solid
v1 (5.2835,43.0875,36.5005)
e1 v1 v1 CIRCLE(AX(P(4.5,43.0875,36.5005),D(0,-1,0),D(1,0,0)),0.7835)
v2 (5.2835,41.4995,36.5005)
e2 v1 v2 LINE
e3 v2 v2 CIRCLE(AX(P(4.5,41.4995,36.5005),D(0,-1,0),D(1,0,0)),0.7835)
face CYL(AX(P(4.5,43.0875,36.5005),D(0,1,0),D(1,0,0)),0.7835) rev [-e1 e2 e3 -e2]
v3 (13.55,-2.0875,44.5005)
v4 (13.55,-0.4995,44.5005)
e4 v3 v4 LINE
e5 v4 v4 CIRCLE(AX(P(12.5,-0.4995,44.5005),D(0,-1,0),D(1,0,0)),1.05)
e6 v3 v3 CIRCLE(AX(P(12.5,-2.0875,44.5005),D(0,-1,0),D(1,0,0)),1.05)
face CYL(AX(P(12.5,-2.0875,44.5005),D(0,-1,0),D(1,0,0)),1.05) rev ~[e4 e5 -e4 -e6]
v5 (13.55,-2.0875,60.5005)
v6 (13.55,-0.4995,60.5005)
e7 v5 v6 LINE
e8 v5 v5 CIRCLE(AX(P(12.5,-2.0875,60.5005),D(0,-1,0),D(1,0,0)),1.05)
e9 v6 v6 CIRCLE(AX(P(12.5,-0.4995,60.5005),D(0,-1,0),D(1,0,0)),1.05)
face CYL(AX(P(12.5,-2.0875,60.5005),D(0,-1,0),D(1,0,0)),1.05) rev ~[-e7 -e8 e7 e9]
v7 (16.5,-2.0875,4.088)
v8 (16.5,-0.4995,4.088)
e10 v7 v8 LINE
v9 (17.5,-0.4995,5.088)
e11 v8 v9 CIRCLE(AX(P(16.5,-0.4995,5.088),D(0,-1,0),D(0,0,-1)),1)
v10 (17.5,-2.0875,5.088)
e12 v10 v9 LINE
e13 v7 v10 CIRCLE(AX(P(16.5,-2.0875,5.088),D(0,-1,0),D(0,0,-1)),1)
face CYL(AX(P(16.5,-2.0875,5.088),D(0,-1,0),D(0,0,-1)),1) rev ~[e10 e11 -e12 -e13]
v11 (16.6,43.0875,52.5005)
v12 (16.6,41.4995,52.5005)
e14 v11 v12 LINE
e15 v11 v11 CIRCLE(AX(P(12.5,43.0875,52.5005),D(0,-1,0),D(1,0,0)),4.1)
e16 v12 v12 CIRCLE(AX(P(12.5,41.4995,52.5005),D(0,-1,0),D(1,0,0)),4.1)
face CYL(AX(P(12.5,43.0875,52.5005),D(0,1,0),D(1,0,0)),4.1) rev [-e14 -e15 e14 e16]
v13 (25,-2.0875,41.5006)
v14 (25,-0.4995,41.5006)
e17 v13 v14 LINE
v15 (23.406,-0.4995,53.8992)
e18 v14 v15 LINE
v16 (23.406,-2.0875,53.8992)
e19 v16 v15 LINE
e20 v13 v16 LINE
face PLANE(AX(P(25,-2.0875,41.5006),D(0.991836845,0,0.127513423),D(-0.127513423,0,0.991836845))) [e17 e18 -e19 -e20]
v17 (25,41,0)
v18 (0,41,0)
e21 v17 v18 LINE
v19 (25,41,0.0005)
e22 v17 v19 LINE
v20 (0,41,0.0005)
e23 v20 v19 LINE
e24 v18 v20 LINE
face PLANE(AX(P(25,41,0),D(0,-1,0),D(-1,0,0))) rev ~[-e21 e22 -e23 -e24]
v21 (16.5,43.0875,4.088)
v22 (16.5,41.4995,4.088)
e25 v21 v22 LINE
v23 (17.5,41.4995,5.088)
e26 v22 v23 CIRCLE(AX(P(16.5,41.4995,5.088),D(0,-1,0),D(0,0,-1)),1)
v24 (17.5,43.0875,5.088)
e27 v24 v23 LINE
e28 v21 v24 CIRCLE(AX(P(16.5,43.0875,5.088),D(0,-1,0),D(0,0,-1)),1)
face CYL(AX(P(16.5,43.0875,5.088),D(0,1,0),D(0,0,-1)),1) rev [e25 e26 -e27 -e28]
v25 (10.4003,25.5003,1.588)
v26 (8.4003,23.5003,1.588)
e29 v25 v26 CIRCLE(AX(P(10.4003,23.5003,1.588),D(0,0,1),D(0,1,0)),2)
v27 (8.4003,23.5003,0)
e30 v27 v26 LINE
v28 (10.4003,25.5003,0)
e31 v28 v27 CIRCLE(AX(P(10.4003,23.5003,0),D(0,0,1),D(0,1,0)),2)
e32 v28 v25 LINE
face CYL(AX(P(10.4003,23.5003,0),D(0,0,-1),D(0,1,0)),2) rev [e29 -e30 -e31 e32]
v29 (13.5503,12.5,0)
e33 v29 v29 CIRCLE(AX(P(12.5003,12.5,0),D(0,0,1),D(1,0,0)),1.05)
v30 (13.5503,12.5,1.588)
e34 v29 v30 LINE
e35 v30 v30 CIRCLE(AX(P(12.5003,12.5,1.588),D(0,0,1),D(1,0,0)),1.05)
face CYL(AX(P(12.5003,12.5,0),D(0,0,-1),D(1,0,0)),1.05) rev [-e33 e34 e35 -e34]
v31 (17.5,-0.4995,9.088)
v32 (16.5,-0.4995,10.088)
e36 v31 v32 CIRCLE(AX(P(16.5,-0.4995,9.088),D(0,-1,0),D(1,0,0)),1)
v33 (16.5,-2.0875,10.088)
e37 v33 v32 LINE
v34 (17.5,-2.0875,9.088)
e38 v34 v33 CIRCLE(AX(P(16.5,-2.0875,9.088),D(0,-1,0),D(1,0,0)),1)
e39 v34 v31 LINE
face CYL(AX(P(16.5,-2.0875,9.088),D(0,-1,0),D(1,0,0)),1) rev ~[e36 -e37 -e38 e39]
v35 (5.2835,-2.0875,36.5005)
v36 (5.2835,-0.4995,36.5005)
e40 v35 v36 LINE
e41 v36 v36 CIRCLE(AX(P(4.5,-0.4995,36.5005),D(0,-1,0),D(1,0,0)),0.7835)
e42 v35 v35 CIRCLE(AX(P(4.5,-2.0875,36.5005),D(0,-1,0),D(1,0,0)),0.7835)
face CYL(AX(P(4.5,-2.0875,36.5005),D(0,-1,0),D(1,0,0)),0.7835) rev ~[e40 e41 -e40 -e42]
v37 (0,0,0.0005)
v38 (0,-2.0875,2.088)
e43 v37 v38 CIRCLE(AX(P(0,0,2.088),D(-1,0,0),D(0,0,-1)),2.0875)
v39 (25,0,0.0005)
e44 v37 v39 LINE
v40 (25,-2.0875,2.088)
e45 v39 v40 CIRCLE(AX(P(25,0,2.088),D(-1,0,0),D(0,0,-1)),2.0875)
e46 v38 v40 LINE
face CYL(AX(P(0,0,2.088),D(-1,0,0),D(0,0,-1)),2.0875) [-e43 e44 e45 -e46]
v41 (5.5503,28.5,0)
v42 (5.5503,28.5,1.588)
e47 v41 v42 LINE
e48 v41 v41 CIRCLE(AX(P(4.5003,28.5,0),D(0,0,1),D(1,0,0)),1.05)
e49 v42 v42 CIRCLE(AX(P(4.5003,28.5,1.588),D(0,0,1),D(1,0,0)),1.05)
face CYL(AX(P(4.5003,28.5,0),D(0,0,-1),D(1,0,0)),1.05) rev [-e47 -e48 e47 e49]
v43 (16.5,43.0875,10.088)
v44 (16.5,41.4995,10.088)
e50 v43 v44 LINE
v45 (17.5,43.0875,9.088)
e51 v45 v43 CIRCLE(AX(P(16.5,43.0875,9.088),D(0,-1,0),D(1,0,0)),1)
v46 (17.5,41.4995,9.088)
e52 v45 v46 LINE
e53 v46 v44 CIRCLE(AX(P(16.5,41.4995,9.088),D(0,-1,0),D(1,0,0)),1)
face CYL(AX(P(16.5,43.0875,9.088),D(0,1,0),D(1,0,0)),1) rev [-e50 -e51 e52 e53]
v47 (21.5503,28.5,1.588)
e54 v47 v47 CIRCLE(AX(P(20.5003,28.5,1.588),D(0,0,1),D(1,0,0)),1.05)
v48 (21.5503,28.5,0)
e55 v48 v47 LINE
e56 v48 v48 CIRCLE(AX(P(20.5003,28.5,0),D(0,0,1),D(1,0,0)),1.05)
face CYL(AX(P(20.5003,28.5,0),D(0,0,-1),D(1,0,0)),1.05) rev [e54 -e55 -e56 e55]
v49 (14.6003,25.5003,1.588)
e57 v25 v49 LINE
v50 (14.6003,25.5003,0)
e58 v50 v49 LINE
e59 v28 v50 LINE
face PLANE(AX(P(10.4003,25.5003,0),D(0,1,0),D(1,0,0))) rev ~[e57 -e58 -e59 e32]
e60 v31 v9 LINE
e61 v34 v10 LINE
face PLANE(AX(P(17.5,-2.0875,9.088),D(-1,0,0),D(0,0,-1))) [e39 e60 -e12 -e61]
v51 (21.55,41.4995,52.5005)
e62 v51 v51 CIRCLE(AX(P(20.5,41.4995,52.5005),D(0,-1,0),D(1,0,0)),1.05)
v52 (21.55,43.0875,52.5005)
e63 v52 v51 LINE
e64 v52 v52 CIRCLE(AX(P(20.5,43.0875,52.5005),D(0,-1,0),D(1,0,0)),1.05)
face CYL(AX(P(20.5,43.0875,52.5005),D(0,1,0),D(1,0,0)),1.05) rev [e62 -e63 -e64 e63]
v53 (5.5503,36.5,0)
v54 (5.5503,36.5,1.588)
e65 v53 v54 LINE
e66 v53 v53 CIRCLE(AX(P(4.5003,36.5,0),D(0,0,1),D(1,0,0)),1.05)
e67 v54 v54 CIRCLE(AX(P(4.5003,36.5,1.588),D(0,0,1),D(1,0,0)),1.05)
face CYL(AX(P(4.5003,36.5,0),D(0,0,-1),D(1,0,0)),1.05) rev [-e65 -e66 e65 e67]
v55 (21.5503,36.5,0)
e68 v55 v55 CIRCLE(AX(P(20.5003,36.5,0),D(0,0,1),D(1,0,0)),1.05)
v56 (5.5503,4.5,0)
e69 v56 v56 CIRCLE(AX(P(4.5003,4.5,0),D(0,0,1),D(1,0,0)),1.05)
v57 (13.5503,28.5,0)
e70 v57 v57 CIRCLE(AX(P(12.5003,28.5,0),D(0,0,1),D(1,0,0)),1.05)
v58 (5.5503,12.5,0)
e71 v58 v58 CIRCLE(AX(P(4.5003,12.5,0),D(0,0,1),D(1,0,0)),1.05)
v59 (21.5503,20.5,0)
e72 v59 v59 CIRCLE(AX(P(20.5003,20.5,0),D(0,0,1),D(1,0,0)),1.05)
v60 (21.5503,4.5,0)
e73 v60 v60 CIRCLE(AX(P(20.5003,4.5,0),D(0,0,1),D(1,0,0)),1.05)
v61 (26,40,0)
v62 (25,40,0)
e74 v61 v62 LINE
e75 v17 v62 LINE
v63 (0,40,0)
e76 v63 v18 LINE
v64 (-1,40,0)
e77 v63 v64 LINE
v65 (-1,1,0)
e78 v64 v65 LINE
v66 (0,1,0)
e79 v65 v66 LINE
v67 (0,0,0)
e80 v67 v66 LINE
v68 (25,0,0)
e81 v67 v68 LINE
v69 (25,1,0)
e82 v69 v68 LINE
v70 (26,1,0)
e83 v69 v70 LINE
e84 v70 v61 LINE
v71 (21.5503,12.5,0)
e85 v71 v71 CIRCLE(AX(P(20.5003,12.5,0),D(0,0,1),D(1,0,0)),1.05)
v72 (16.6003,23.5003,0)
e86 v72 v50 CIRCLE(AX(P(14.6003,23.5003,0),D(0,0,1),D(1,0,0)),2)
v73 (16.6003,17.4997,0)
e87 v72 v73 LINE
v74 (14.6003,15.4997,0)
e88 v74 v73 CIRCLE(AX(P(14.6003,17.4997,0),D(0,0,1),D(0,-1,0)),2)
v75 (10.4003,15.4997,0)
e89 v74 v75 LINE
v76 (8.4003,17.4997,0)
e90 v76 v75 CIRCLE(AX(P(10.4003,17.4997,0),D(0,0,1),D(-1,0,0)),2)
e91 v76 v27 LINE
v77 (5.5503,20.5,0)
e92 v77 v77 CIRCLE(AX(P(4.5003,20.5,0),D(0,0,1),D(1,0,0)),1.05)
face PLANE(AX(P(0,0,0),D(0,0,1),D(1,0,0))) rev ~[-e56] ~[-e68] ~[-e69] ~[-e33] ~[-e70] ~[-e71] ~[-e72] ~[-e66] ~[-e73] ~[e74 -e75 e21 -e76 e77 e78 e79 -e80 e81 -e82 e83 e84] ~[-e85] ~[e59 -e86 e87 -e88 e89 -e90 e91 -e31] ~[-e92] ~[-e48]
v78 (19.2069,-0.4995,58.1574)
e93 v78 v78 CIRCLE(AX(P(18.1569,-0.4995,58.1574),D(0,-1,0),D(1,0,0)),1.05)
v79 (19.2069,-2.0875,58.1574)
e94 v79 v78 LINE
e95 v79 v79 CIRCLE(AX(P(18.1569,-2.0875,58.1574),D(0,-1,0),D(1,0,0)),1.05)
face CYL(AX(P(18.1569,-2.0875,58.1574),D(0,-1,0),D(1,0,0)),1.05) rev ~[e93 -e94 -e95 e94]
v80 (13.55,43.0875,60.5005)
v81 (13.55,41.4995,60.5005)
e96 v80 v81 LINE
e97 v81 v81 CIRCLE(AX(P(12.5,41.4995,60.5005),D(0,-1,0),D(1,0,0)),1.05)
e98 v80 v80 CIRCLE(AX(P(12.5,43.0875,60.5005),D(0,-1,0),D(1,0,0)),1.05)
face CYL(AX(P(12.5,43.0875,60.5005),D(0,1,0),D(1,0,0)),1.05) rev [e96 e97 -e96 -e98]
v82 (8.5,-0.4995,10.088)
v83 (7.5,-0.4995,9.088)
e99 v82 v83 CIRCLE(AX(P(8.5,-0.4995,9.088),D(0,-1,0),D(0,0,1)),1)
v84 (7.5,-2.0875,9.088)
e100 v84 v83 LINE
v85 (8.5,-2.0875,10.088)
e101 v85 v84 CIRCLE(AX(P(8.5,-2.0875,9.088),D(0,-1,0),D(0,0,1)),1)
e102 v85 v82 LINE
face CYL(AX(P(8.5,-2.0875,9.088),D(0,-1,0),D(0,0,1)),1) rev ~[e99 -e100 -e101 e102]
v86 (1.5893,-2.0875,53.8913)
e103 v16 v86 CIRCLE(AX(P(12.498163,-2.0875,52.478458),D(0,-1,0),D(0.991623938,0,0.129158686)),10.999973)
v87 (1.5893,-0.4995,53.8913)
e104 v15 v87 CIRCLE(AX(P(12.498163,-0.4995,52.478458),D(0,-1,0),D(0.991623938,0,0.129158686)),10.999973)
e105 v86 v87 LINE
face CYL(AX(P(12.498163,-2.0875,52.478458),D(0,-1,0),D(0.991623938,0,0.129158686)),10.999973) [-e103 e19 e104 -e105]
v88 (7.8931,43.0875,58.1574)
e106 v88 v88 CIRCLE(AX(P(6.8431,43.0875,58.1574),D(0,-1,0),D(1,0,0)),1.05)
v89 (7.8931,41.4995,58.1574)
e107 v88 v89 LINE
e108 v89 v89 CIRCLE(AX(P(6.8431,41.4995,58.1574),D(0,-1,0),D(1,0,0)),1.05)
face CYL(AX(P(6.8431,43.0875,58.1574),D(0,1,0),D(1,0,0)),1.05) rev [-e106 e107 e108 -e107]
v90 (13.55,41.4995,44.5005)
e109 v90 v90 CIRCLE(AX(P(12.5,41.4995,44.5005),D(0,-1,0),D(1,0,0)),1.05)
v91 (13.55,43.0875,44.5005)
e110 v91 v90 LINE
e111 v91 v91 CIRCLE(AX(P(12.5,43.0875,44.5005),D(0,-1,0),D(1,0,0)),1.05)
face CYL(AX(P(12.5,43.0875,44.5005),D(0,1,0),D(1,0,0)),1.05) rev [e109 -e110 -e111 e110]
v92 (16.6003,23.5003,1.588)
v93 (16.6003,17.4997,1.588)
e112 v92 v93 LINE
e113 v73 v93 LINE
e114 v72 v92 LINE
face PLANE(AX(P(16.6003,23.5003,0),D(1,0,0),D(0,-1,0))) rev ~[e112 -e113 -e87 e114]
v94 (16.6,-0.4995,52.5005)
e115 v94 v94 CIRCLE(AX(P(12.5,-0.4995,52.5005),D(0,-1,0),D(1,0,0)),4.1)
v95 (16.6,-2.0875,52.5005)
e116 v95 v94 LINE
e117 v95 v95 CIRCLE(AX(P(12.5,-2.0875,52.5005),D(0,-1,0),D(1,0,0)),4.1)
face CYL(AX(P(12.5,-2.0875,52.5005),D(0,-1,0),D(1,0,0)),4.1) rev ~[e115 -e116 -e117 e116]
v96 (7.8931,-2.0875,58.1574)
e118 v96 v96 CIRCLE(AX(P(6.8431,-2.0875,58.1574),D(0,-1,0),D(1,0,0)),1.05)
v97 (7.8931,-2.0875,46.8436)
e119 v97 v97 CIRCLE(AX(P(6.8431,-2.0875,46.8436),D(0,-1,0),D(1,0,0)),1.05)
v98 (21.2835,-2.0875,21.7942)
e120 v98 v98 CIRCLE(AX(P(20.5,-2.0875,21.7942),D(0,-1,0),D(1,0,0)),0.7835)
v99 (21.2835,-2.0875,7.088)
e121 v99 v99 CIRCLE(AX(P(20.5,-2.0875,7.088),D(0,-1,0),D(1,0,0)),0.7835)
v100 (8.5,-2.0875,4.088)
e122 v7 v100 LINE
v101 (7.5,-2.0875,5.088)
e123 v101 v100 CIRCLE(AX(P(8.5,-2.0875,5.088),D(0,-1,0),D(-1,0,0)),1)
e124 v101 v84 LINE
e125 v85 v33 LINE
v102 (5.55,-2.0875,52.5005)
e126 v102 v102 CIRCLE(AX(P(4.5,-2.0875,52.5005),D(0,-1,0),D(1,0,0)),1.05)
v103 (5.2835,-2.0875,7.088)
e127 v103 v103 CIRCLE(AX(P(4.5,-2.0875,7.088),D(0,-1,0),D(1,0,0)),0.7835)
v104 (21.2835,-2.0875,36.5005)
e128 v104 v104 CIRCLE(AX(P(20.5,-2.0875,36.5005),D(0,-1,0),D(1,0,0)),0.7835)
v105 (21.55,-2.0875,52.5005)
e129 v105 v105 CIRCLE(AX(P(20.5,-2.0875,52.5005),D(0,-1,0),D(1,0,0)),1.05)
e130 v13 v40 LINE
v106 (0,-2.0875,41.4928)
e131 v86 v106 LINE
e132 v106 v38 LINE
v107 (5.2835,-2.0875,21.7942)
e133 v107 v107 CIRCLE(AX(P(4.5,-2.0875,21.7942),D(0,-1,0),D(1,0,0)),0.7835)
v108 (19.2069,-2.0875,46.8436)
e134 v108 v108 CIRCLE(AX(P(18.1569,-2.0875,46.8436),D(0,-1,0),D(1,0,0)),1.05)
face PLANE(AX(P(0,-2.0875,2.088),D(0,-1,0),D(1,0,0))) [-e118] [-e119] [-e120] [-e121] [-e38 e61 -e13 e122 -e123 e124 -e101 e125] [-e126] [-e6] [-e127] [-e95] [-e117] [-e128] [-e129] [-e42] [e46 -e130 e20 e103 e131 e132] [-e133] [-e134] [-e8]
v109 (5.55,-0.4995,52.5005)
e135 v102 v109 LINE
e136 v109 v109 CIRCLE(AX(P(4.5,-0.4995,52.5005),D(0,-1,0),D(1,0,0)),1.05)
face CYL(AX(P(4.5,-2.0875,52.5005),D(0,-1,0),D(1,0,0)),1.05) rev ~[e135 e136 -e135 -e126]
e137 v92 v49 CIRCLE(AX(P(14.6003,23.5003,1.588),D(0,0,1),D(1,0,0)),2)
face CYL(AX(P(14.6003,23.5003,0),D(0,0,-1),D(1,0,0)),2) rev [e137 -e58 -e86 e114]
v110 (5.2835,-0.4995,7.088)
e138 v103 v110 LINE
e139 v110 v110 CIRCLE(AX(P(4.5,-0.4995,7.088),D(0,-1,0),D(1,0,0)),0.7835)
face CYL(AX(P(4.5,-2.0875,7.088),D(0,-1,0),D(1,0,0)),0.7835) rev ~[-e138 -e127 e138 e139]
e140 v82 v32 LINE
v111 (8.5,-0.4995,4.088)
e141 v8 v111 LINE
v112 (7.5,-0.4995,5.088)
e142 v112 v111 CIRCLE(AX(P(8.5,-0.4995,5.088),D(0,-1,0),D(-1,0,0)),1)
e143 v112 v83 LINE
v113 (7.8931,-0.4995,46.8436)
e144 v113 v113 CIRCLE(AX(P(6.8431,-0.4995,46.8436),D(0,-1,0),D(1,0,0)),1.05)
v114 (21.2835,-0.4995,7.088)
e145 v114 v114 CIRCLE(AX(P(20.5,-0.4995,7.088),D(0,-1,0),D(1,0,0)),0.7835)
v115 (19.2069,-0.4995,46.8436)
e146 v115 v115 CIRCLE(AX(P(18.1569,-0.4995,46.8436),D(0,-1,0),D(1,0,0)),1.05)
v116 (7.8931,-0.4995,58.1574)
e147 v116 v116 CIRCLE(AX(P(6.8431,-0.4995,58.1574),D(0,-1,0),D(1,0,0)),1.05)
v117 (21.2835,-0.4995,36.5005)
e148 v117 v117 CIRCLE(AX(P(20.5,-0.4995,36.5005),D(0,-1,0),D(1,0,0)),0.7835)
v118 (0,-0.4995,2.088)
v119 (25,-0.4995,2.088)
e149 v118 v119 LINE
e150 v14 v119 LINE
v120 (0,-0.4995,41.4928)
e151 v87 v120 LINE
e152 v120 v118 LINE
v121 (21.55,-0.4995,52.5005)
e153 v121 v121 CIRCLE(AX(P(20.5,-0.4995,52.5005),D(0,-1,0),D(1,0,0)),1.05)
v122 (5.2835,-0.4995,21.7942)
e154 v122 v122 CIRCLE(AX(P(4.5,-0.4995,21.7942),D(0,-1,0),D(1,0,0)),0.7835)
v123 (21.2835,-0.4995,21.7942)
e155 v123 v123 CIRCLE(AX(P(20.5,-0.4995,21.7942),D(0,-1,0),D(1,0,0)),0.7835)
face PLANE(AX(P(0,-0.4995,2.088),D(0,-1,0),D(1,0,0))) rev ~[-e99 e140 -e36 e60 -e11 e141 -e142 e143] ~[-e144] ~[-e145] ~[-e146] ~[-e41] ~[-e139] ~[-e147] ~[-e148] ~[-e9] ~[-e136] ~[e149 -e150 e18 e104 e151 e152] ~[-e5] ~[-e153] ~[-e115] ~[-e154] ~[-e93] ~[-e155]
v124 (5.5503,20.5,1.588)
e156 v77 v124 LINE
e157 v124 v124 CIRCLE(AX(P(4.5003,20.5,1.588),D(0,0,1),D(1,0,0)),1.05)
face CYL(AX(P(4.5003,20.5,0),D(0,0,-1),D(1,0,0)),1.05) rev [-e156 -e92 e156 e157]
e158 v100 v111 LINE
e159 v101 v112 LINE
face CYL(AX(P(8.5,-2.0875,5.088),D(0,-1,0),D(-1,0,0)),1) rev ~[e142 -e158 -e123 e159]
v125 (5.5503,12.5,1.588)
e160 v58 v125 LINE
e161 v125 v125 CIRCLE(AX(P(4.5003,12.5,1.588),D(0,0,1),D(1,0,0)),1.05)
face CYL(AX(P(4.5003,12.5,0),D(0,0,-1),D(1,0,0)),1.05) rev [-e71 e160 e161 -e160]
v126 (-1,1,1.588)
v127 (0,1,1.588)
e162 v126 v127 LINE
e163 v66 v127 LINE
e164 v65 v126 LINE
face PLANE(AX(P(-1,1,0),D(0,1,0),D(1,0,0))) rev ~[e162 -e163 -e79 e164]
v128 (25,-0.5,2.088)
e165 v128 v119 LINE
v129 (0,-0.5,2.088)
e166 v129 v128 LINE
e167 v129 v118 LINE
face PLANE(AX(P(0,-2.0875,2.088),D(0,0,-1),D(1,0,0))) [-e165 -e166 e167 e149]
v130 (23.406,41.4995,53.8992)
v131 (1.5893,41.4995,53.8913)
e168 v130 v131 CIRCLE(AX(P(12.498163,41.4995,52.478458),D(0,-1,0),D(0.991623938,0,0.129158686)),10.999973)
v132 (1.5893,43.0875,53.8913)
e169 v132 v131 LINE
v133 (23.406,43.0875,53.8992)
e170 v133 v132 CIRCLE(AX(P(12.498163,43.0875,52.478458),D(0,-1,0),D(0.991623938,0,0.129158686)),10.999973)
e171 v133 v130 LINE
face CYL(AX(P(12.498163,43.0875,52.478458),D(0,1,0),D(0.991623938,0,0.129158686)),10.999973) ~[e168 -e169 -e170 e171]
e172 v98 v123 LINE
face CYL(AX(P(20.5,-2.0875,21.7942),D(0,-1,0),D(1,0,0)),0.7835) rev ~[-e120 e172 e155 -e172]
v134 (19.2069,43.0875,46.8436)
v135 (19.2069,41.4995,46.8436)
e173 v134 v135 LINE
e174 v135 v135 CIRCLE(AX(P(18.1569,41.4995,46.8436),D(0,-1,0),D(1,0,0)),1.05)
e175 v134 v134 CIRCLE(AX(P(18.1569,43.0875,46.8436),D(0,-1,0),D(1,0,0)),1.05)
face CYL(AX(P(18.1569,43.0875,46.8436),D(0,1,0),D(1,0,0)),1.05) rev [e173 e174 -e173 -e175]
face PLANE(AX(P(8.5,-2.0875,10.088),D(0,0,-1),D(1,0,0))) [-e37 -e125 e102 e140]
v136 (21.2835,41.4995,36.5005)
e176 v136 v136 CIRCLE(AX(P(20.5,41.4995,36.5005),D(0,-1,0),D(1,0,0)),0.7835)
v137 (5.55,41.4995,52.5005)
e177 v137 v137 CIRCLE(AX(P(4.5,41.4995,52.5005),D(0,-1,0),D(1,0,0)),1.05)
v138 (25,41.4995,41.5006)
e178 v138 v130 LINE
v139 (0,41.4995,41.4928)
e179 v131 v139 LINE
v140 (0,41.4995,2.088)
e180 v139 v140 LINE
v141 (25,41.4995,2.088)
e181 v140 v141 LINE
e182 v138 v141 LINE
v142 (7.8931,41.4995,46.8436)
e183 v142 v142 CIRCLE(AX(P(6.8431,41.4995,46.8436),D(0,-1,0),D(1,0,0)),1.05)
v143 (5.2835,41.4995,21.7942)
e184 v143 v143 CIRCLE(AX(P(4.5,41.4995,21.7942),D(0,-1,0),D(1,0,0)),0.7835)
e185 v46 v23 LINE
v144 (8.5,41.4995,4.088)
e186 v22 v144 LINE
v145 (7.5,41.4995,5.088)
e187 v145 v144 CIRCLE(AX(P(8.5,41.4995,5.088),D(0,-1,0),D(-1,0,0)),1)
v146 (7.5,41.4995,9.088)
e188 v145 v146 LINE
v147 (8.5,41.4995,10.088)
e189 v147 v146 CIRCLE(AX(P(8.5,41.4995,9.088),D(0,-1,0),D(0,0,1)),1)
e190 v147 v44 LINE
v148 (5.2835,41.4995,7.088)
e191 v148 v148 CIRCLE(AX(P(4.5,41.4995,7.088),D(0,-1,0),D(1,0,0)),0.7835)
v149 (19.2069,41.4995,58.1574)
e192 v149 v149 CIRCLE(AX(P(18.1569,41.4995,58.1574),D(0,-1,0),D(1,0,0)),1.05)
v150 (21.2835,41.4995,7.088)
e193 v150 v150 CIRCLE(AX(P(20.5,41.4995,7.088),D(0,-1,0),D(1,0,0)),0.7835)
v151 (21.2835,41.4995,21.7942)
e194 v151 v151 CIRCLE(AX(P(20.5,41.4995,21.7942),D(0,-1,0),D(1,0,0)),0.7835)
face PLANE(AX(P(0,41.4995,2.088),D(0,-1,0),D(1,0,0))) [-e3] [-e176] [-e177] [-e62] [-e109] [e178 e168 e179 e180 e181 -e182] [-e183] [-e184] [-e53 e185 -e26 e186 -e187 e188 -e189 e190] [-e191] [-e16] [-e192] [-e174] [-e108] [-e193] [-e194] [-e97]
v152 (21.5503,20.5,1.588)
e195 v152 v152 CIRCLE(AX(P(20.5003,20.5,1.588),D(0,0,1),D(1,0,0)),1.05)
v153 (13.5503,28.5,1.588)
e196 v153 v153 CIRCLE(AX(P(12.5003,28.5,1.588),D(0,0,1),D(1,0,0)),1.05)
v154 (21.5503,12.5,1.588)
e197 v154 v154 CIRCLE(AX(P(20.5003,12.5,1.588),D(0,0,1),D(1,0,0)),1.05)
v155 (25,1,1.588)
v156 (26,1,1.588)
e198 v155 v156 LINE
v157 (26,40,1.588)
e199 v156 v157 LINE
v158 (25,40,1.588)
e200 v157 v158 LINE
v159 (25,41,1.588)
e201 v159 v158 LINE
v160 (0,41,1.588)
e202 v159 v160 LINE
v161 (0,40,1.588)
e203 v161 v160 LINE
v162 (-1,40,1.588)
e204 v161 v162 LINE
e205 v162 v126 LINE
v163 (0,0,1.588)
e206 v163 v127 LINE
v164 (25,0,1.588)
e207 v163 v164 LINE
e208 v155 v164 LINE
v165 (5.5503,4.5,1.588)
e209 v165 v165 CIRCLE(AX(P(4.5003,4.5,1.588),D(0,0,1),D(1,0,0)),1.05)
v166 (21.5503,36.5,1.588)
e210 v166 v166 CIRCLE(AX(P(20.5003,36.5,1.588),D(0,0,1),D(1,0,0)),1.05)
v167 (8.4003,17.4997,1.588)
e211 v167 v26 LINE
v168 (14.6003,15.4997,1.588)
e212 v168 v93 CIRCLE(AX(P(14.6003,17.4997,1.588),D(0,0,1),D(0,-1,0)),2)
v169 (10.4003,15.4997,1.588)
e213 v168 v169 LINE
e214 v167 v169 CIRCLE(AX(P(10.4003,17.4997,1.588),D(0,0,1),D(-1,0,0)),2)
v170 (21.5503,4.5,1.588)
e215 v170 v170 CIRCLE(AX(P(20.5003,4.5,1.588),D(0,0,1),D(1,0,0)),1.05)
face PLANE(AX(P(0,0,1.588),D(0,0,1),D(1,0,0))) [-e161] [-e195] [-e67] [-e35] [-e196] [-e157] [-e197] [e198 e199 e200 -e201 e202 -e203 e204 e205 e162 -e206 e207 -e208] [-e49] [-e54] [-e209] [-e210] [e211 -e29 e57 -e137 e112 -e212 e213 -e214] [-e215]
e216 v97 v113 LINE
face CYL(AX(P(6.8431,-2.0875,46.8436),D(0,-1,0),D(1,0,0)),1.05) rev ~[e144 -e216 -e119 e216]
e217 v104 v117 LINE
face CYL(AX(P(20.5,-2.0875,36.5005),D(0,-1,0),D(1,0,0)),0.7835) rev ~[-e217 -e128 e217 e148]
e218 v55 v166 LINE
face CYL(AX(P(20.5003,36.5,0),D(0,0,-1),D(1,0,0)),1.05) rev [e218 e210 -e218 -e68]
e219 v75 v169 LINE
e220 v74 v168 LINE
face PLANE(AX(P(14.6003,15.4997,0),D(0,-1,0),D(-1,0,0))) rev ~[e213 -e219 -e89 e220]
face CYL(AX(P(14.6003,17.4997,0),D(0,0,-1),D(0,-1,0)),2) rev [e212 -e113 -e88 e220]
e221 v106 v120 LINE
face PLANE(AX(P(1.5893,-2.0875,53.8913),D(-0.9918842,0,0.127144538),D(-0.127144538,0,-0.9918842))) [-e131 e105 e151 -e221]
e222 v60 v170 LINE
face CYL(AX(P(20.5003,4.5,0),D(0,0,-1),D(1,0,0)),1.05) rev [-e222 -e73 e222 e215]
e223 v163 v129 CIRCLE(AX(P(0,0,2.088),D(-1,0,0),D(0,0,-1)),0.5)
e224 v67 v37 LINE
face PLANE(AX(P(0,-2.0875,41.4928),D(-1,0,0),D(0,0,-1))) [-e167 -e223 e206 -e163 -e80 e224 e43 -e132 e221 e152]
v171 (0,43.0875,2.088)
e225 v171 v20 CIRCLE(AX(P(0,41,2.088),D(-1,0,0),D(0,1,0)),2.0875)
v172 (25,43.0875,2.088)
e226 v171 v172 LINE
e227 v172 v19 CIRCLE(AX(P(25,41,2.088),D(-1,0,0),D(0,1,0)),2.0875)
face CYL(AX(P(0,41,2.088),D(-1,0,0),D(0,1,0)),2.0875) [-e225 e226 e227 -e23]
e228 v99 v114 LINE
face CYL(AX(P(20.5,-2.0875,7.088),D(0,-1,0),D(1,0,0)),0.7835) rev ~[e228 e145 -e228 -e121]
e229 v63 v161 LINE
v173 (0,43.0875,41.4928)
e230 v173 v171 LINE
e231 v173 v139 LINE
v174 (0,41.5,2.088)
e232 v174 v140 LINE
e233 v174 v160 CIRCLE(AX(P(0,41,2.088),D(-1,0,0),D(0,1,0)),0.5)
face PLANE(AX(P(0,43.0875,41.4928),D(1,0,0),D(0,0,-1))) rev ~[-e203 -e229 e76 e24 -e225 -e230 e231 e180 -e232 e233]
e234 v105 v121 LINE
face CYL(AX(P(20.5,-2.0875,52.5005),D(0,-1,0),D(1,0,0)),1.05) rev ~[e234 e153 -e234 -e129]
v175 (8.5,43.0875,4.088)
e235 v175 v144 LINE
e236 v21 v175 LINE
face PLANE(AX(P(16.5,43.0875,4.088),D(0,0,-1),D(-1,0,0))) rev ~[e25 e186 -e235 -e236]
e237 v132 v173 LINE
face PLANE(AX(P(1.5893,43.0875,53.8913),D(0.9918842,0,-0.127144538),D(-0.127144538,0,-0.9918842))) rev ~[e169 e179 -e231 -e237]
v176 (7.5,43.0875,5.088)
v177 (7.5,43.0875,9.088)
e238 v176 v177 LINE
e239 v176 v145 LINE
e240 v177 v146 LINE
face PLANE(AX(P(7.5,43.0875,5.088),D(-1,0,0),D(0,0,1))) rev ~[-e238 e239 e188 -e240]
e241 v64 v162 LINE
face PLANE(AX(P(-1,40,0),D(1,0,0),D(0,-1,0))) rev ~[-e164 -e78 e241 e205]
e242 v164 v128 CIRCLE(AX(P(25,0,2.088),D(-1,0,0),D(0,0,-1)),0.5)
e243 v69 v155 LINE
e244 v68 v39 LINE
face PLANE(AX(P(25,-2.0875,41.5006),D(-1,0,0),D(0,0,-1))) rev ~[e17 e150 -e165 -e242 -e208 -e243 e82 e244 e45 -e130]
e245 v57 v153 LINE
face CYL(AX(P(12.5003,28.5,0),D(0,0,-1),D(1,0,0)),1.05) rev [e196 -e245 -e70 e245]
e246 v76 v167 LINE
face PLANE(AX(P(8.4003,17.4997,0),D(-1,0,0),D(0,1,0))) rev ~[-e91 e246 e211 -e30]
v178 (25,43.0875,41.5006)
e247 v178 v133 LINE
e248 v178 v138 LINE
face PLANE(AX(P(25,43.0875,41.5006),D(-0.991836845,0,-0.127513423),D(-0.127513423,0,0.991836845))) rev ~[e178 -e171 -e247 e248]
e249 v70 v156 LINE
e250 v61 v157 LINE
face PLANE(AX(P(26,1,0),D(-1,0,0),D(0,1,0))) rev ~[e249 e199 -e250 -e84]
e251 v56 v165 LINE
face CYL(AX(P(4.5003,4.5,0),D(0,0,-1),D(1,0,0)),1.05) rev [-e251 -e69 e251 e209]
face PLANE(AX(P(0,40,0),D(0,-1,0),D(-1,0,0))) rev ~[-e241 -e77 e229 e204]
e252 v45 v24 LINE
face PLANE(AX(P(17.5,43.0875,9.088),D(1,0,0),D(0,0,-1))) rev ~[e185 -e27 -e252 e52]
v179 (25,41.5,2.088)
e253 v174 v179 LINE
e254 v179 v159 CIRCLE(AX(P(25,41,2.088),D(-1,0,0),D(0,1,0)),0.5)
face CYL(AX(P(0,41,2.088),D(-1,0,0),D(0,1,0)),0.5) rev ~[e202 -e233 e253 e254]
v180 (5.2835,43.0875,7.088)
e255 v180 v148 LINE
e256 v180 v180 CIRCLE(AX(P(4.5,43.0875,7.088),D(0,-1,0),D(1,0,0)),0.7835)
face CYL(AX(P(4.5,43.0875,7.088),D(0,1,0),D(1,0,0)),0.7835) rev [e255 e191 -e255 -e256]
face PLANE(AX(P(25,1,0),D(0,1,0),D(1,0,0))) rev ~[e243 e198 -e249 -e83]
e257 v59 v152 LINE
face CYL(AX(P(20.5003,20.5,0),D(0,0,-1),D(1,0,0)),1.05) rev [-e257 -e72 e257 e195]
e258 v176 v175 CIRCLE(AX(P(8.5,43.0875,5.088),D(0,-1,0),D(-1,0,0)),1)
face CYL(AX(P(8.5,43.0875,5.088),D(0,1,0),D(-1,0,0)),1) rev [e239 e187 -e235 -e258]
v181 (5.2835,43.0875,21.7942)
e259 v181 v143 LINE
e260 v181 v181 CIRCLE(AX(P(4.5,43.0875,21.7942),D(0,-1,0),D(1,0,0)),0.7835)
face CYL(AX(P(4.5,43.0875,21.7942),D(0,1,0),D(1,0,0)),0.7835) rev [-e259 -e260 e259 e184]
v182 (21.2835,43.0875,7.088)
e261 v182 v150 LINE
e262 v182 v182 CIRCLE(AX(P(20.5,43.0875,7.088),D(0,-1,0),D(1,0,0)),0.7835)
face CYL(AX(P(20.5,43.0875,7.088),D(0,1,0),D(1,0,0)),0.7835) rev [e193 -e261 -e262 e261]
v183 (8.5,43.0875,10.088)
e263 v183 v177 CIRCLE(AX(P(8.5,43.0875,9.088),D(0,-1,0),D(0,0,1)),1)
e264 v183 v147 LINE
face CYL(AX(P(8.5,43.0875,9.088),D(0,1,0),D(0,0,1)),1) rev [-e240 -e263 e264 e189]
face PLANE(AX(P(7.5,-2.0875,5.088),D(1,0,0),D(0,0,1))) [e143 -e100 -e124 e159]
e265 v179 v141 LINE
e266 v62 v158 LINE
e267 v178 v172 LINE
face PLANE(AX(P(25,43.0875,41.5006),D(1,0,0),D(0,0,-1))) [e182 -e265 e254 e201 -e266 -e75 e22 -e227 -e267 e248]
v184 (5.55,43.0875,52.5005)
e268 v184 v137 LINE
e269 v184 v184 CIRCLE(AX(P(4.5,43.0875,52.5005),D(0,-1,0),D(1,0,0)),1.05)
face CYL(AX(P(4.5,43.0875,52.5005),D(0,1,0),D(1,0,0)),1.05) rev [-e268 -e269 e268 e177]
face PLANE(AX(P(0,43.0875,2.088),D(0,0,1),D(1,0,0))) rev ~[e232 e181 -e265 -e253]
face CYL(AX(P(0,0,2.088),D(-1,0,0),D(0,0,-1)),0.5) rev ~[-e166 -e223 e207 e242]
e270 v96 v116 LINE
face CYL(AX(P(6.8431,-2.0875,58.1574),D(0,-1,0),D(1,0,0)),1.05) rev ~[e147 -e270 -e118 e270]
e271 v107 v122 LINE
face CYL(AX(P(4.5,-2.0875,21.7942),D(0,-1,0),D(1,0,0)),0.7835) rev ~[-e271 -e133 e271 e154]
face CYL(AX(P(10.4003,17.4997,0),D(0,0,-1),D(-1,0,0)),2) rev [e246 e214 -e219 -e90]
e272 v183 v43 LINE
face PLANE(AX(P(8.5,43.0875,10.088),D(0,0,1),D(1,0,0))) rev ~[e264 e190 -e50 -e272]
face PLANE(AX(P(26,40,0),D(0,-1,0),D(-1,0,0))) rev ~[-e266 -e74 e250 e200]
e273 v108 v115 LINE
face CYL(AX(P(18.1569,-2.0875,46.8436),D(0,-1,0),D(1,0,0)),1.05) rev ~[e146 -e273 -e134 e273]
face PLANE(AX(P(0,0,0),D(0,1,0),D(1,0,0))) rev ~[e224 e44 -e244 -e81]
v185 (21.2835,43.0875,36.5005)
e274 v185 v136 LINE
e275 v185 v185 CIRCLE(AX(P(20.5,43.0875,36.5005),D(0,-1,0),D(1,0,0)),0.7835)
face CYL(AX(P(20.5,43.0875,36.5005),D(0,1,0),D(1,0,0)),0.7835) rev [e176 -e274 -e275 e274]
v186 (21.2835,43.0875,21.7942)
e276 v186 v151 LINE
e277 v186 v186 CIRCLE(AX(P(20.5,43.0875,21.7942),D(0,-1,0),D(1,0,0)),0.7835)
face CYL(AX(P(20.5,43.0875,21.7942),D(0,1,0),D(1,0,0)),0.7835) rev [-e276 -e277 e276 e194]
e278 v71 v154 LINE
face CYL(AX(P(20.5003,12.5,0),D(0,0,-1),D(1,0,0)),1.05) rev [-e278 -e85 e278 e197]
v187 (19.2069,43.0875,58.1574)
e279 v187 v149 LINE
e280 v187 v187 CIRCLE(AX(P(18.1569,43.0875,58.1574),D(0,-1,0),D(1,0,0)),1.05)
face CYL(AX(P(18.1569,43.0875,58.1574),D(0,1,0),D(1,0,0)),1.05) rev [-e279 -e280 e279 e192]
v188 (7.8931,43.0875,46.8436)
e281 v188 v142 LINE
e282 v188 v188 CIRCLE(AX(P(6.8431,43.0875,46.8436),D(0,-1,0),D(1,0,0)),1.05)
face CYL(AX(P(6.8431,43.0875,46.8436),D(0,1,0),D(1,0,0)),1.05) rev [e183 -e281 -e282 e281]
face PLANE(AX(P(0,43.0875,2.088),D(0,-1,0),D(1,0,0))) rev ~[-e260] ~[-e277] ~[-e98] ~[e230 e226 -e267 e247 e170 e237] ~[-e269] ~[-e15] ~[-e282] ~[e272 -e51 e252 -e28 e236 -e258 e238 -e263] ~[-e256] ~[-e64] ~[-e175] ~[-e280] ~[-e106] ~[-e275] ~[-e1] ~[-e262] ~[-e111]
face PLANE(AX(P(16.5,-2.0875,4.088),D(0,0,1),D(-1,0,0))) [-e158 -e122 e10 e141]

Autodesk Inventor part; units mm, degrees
ref_plane "YZ Plane" through (0, 0, 0) normal (1, 0, 0) x (0, 1, 0)
sketch "Sketch5" plane through (0, 0, 0) normal (0, 0, 1) x (1, 0, 0)
  line L0 (0, 0) -> (25, 0)
  line L1 (25, 1) -> (25, 0)
  line L2 (25, 1) -> (26, 1)
  line L3 (26, 1) -> (26, 40)
  line L4 (26, 40) -> (25, 40)
  line L5 (25, 41) -> (25, 40)
  line L6 (25, 41) -> (0, 41)
  line L7 (0, 40) -> (0, 41)
  line L8 (0, 40) -> (-1, 40)
  line L9 (-1, 40) -> (-1, 1)
  line L10 (-1, 1) -> (0, 1)
  line L11 (0, 0) -> (0, 1)
  line L12 (10.4003, 25.5003) -> (14.6003, 25.5003)
  arc A0 (16.6003, 23.5003) -> (14.6003, 25.5003) centre (14.6003, 23.5003) ccw
  line L13 (16.6003, 23.5003) -> (16.6003, 17.4997)
  arc A1 (14.6003, 15.4997) -> (16.6003, 17.4997) centre (14.6003, 17.4997) ccw
  line L14 (14.6003, 15.4997) -> (10.4003, 15.4997)
  arc A2 (8.4003, 17.4997) -> (10.4003, 15.4997) centre (10.4003, 17.4997) ccw
  line L15 (8.4003, 17.4997) -> (8.4003, 23.5003)
  arc A3 (10.4003, 25.5003) -> (8.4003, 23.5003) centre (10.4003, 23.5003) ccw
  circle A4 centre (4.5003, 12.5) radius 1.05
  circle A5 centre (4.5003, 20.5) radius 1.05
  circle A6 centre (4.5003, 28.5) radius 1.05
  circle A7 centre (20.5003, 4.5) radius 1.05
  circle A8 centre (4.5003, 4.5) radius 1.05
  circle A9 centre (4.5003, 36.5) radius 1.05
  circle A10 centre (20.5003, 36.5) radius 1.05
  circle A11 centre (20.5003, 20.5) radius 1.05
  circle A12 centre (12.5003, 12.5) radius 1.05
  circle A13 centre (12.5003, 28.5) radius 1.05
  circle A14 centre (20.5003, 12.5) radius 1.05
  circle A15 centre (20.5003, 28.5) radius 1.05
  point P0 (12.5003, 20.5)
extrude "Extrusion3" add sketch "Sketch5" along normal blind 1.588
sketch "Sketch6" plane through (0, 40, 0) normal (-1, 0, 0) x (0, 0, 1)
  line L0 (2.088, -40.5) -> (2.088, -42.0875)
  arc A0 (1.588, -40) -> (2.088, -40.5) centre (2.088, -40) ccw
  line L1 (0.0005, -40) -> (1.588, -40)
  arc A1 (0.0005, -40) -> (2.088, -42.0875) centre (2.088, -40) ccw
  line L2 (2.088, 3.0875) -> (2.088, 1.5)
  arc A2 (2.088, 3.0875) -> (0.0005, 1) centre (2.088, 1) ccw
  line L3 (1.588, 1) -> (0.0005, 1)
  arc A3 (2.088, 1.5) -> (1.588, 1) centre (2.088, 1) ccw
  point P0 (0, -40)
  point P1 (10.9999, -21)
extrude "Extrusion4" add sketch "Sketch6" against normal blind 25
ref_plane "Work Plane1" through (0, -2.0875, 2.088) normal (0, -1, 0) x (1, 0, 0)
sketch "Sketch7" plane through (0, -2.0875, 2.088) normal (0, -1, 0) x (1, 0, 0)
  line L0 (25, 39.4126) -> (23.406, 51.8112)
  arc A0 (23.406, 51.8112) -> (1.5893, 51.8033) centre (12.4982, 50.3905) ccw
  line L1 (1.5893, 51.8033) -> (0, 39.4048)
  line L2 (0, 39.4048) -> (0, 0)
  line L3 (0, 0) -> (25, 0)
  line L4 (25, 39.4126) -> (25, 0)
  circle A1 centre (12.5, 50.4125) radius 4.1
  circle A2 centre (20.5, 19.7062) radius 0.7835
  circle A3 centre (4.5, 19.7062) radius 0.7835
  circle A4 centre (20.5, 5) radius 0.7835
  circle A5 centre (20.5, 34.4125) radius 0.7835
  circle A6 centre (4.5, 34.4125) radius 0.7835
  circle A7 centre (4.5, 5) radius 0.7835
  circle A8 centre (18.1569, 56.0694) radius 1.05
  circle A9 centre (18.1569, 44.7556) radius 1.05
  circle A10 centre (6.8431, 44.7556) radius 1.05
  circle A11 centre (6.8431, 56.0694) radius 1.05
  circle A12 centre (4.5, 50.4125) radius 1.05
  circle A13 centre (20.5, 50.4125) radius 1.05
  circle A14 centre (12.5, 42.4125) radius 1.05
  circle A15 centre (12.5, 58.4125) radius 1.05
  arc A16 (7.5, 3) -> (8.5, 2) centre (8.5, 3) ccw
  line L5 (7.5, 3) -> (7.5, 7)
  arc A17 (8.5, 8) -> (7.5, 7) centre (8.5, 7) ccw
  line L6 (8.5, 8) -> (16.5, 8)
  arc A18 (17.5, 7) -> (16.5, 8) centre (16.5, 7) ccw
  line L7 (17.5, 7) -> (17.5, 3)
  arc A19 (16.5, 2) -> (17.5, 3) centre (16.5, 3) ccw
  line L8 (16.5, 2) -> (8.5, 2)
  point P0 (0, -2.088)
  point P1 (12.4997, 50.4125)
extrude "Extrusion5" add sketch "Sketch7" against normal blind 1.588
ref_plane "Work Plane2" through (0, 43.0875, 2.088) normal (0, -1, 0) x (1, 0, 0)
sketch "Sketch8" plane through (0, 43.0875, 2.088) normal (0, -1, 0) x (1, 0, 0)
  line L0 (25, 39.4126) -> (23.406, 51.8112)
  arc A0 (23.406, 51.8112) -> (1.5893, 51.8033) centre (12.4982, 50.3905) ccw
  line L1 (1.5893, 51.8033) -> (0, 39.4048)
  line L2 (0, 39.4048) -> (0, 0)
  line L3 (0, 0) -> (25, 0)
  line L4 (25, 39.4126) -> (25, 0)
  circle A1 centre (12.5, 50.4125) radius 4.1
  circle A2 centre (20.5, 19.7062) radius 0.7835
  circle A3 centre (4.5, 19.7062) radius 0.7835
  circle A4 centre (20.5, 5) radius 0.7835
  circle A5 centre (20.5, 34.4125) radius 0.7835
  circle A6 centre (4.5, 34.4125) radius 0.7835
  circle A7 centre (4.5, 5) radius 0.7835
  circle A8 centre (18.1569, 56.0694) radius 1.05
  circle A9 centre (18.1569, 44.7556) radius 1.05
  circle A10 centre (6.8431, 44.7556) radius 1.05
  circle A11 centre (6.8431, 56.0694) radius 1.05
  circle A12 centre (4.5, 50.4125) radius 1.05
  circle A13 centre (20.5, 50.4125) radius 1.05
  circle A14 centre (12.5, 42.4125) radius 1.05
  circle A15 centre (12.5, 58.4125) radius 1.05
  arc A16 (7.5, 3) -> (8.5, 2) centre (8.5, 3) ccw
  line L5 (7.5, 3) -> (7.5, 7)
  arc A17 (8.5, 8) -> (7.5, 7) centre (8.5, 7) ccw
  line L6 (8.5, 8) -> (16.5, 8)
  arc A18 (17.5, 7) -> (16.5, 8) centre (16.5, 7) ccw
  line L7 (17.5, 7) -> (17.5, 3)
  arc A19 (16.5, 2) -> (17.5, 3) centre (16.5, 3) ccw
  line L8 (16.5, 2) -> (8.5, 2)
  point P0 (0, -2.088)
  point P1 (12.4997, 50.4125)
extrude "Extrusion6" add sketch "Sketch8" along normal blind 1.588
